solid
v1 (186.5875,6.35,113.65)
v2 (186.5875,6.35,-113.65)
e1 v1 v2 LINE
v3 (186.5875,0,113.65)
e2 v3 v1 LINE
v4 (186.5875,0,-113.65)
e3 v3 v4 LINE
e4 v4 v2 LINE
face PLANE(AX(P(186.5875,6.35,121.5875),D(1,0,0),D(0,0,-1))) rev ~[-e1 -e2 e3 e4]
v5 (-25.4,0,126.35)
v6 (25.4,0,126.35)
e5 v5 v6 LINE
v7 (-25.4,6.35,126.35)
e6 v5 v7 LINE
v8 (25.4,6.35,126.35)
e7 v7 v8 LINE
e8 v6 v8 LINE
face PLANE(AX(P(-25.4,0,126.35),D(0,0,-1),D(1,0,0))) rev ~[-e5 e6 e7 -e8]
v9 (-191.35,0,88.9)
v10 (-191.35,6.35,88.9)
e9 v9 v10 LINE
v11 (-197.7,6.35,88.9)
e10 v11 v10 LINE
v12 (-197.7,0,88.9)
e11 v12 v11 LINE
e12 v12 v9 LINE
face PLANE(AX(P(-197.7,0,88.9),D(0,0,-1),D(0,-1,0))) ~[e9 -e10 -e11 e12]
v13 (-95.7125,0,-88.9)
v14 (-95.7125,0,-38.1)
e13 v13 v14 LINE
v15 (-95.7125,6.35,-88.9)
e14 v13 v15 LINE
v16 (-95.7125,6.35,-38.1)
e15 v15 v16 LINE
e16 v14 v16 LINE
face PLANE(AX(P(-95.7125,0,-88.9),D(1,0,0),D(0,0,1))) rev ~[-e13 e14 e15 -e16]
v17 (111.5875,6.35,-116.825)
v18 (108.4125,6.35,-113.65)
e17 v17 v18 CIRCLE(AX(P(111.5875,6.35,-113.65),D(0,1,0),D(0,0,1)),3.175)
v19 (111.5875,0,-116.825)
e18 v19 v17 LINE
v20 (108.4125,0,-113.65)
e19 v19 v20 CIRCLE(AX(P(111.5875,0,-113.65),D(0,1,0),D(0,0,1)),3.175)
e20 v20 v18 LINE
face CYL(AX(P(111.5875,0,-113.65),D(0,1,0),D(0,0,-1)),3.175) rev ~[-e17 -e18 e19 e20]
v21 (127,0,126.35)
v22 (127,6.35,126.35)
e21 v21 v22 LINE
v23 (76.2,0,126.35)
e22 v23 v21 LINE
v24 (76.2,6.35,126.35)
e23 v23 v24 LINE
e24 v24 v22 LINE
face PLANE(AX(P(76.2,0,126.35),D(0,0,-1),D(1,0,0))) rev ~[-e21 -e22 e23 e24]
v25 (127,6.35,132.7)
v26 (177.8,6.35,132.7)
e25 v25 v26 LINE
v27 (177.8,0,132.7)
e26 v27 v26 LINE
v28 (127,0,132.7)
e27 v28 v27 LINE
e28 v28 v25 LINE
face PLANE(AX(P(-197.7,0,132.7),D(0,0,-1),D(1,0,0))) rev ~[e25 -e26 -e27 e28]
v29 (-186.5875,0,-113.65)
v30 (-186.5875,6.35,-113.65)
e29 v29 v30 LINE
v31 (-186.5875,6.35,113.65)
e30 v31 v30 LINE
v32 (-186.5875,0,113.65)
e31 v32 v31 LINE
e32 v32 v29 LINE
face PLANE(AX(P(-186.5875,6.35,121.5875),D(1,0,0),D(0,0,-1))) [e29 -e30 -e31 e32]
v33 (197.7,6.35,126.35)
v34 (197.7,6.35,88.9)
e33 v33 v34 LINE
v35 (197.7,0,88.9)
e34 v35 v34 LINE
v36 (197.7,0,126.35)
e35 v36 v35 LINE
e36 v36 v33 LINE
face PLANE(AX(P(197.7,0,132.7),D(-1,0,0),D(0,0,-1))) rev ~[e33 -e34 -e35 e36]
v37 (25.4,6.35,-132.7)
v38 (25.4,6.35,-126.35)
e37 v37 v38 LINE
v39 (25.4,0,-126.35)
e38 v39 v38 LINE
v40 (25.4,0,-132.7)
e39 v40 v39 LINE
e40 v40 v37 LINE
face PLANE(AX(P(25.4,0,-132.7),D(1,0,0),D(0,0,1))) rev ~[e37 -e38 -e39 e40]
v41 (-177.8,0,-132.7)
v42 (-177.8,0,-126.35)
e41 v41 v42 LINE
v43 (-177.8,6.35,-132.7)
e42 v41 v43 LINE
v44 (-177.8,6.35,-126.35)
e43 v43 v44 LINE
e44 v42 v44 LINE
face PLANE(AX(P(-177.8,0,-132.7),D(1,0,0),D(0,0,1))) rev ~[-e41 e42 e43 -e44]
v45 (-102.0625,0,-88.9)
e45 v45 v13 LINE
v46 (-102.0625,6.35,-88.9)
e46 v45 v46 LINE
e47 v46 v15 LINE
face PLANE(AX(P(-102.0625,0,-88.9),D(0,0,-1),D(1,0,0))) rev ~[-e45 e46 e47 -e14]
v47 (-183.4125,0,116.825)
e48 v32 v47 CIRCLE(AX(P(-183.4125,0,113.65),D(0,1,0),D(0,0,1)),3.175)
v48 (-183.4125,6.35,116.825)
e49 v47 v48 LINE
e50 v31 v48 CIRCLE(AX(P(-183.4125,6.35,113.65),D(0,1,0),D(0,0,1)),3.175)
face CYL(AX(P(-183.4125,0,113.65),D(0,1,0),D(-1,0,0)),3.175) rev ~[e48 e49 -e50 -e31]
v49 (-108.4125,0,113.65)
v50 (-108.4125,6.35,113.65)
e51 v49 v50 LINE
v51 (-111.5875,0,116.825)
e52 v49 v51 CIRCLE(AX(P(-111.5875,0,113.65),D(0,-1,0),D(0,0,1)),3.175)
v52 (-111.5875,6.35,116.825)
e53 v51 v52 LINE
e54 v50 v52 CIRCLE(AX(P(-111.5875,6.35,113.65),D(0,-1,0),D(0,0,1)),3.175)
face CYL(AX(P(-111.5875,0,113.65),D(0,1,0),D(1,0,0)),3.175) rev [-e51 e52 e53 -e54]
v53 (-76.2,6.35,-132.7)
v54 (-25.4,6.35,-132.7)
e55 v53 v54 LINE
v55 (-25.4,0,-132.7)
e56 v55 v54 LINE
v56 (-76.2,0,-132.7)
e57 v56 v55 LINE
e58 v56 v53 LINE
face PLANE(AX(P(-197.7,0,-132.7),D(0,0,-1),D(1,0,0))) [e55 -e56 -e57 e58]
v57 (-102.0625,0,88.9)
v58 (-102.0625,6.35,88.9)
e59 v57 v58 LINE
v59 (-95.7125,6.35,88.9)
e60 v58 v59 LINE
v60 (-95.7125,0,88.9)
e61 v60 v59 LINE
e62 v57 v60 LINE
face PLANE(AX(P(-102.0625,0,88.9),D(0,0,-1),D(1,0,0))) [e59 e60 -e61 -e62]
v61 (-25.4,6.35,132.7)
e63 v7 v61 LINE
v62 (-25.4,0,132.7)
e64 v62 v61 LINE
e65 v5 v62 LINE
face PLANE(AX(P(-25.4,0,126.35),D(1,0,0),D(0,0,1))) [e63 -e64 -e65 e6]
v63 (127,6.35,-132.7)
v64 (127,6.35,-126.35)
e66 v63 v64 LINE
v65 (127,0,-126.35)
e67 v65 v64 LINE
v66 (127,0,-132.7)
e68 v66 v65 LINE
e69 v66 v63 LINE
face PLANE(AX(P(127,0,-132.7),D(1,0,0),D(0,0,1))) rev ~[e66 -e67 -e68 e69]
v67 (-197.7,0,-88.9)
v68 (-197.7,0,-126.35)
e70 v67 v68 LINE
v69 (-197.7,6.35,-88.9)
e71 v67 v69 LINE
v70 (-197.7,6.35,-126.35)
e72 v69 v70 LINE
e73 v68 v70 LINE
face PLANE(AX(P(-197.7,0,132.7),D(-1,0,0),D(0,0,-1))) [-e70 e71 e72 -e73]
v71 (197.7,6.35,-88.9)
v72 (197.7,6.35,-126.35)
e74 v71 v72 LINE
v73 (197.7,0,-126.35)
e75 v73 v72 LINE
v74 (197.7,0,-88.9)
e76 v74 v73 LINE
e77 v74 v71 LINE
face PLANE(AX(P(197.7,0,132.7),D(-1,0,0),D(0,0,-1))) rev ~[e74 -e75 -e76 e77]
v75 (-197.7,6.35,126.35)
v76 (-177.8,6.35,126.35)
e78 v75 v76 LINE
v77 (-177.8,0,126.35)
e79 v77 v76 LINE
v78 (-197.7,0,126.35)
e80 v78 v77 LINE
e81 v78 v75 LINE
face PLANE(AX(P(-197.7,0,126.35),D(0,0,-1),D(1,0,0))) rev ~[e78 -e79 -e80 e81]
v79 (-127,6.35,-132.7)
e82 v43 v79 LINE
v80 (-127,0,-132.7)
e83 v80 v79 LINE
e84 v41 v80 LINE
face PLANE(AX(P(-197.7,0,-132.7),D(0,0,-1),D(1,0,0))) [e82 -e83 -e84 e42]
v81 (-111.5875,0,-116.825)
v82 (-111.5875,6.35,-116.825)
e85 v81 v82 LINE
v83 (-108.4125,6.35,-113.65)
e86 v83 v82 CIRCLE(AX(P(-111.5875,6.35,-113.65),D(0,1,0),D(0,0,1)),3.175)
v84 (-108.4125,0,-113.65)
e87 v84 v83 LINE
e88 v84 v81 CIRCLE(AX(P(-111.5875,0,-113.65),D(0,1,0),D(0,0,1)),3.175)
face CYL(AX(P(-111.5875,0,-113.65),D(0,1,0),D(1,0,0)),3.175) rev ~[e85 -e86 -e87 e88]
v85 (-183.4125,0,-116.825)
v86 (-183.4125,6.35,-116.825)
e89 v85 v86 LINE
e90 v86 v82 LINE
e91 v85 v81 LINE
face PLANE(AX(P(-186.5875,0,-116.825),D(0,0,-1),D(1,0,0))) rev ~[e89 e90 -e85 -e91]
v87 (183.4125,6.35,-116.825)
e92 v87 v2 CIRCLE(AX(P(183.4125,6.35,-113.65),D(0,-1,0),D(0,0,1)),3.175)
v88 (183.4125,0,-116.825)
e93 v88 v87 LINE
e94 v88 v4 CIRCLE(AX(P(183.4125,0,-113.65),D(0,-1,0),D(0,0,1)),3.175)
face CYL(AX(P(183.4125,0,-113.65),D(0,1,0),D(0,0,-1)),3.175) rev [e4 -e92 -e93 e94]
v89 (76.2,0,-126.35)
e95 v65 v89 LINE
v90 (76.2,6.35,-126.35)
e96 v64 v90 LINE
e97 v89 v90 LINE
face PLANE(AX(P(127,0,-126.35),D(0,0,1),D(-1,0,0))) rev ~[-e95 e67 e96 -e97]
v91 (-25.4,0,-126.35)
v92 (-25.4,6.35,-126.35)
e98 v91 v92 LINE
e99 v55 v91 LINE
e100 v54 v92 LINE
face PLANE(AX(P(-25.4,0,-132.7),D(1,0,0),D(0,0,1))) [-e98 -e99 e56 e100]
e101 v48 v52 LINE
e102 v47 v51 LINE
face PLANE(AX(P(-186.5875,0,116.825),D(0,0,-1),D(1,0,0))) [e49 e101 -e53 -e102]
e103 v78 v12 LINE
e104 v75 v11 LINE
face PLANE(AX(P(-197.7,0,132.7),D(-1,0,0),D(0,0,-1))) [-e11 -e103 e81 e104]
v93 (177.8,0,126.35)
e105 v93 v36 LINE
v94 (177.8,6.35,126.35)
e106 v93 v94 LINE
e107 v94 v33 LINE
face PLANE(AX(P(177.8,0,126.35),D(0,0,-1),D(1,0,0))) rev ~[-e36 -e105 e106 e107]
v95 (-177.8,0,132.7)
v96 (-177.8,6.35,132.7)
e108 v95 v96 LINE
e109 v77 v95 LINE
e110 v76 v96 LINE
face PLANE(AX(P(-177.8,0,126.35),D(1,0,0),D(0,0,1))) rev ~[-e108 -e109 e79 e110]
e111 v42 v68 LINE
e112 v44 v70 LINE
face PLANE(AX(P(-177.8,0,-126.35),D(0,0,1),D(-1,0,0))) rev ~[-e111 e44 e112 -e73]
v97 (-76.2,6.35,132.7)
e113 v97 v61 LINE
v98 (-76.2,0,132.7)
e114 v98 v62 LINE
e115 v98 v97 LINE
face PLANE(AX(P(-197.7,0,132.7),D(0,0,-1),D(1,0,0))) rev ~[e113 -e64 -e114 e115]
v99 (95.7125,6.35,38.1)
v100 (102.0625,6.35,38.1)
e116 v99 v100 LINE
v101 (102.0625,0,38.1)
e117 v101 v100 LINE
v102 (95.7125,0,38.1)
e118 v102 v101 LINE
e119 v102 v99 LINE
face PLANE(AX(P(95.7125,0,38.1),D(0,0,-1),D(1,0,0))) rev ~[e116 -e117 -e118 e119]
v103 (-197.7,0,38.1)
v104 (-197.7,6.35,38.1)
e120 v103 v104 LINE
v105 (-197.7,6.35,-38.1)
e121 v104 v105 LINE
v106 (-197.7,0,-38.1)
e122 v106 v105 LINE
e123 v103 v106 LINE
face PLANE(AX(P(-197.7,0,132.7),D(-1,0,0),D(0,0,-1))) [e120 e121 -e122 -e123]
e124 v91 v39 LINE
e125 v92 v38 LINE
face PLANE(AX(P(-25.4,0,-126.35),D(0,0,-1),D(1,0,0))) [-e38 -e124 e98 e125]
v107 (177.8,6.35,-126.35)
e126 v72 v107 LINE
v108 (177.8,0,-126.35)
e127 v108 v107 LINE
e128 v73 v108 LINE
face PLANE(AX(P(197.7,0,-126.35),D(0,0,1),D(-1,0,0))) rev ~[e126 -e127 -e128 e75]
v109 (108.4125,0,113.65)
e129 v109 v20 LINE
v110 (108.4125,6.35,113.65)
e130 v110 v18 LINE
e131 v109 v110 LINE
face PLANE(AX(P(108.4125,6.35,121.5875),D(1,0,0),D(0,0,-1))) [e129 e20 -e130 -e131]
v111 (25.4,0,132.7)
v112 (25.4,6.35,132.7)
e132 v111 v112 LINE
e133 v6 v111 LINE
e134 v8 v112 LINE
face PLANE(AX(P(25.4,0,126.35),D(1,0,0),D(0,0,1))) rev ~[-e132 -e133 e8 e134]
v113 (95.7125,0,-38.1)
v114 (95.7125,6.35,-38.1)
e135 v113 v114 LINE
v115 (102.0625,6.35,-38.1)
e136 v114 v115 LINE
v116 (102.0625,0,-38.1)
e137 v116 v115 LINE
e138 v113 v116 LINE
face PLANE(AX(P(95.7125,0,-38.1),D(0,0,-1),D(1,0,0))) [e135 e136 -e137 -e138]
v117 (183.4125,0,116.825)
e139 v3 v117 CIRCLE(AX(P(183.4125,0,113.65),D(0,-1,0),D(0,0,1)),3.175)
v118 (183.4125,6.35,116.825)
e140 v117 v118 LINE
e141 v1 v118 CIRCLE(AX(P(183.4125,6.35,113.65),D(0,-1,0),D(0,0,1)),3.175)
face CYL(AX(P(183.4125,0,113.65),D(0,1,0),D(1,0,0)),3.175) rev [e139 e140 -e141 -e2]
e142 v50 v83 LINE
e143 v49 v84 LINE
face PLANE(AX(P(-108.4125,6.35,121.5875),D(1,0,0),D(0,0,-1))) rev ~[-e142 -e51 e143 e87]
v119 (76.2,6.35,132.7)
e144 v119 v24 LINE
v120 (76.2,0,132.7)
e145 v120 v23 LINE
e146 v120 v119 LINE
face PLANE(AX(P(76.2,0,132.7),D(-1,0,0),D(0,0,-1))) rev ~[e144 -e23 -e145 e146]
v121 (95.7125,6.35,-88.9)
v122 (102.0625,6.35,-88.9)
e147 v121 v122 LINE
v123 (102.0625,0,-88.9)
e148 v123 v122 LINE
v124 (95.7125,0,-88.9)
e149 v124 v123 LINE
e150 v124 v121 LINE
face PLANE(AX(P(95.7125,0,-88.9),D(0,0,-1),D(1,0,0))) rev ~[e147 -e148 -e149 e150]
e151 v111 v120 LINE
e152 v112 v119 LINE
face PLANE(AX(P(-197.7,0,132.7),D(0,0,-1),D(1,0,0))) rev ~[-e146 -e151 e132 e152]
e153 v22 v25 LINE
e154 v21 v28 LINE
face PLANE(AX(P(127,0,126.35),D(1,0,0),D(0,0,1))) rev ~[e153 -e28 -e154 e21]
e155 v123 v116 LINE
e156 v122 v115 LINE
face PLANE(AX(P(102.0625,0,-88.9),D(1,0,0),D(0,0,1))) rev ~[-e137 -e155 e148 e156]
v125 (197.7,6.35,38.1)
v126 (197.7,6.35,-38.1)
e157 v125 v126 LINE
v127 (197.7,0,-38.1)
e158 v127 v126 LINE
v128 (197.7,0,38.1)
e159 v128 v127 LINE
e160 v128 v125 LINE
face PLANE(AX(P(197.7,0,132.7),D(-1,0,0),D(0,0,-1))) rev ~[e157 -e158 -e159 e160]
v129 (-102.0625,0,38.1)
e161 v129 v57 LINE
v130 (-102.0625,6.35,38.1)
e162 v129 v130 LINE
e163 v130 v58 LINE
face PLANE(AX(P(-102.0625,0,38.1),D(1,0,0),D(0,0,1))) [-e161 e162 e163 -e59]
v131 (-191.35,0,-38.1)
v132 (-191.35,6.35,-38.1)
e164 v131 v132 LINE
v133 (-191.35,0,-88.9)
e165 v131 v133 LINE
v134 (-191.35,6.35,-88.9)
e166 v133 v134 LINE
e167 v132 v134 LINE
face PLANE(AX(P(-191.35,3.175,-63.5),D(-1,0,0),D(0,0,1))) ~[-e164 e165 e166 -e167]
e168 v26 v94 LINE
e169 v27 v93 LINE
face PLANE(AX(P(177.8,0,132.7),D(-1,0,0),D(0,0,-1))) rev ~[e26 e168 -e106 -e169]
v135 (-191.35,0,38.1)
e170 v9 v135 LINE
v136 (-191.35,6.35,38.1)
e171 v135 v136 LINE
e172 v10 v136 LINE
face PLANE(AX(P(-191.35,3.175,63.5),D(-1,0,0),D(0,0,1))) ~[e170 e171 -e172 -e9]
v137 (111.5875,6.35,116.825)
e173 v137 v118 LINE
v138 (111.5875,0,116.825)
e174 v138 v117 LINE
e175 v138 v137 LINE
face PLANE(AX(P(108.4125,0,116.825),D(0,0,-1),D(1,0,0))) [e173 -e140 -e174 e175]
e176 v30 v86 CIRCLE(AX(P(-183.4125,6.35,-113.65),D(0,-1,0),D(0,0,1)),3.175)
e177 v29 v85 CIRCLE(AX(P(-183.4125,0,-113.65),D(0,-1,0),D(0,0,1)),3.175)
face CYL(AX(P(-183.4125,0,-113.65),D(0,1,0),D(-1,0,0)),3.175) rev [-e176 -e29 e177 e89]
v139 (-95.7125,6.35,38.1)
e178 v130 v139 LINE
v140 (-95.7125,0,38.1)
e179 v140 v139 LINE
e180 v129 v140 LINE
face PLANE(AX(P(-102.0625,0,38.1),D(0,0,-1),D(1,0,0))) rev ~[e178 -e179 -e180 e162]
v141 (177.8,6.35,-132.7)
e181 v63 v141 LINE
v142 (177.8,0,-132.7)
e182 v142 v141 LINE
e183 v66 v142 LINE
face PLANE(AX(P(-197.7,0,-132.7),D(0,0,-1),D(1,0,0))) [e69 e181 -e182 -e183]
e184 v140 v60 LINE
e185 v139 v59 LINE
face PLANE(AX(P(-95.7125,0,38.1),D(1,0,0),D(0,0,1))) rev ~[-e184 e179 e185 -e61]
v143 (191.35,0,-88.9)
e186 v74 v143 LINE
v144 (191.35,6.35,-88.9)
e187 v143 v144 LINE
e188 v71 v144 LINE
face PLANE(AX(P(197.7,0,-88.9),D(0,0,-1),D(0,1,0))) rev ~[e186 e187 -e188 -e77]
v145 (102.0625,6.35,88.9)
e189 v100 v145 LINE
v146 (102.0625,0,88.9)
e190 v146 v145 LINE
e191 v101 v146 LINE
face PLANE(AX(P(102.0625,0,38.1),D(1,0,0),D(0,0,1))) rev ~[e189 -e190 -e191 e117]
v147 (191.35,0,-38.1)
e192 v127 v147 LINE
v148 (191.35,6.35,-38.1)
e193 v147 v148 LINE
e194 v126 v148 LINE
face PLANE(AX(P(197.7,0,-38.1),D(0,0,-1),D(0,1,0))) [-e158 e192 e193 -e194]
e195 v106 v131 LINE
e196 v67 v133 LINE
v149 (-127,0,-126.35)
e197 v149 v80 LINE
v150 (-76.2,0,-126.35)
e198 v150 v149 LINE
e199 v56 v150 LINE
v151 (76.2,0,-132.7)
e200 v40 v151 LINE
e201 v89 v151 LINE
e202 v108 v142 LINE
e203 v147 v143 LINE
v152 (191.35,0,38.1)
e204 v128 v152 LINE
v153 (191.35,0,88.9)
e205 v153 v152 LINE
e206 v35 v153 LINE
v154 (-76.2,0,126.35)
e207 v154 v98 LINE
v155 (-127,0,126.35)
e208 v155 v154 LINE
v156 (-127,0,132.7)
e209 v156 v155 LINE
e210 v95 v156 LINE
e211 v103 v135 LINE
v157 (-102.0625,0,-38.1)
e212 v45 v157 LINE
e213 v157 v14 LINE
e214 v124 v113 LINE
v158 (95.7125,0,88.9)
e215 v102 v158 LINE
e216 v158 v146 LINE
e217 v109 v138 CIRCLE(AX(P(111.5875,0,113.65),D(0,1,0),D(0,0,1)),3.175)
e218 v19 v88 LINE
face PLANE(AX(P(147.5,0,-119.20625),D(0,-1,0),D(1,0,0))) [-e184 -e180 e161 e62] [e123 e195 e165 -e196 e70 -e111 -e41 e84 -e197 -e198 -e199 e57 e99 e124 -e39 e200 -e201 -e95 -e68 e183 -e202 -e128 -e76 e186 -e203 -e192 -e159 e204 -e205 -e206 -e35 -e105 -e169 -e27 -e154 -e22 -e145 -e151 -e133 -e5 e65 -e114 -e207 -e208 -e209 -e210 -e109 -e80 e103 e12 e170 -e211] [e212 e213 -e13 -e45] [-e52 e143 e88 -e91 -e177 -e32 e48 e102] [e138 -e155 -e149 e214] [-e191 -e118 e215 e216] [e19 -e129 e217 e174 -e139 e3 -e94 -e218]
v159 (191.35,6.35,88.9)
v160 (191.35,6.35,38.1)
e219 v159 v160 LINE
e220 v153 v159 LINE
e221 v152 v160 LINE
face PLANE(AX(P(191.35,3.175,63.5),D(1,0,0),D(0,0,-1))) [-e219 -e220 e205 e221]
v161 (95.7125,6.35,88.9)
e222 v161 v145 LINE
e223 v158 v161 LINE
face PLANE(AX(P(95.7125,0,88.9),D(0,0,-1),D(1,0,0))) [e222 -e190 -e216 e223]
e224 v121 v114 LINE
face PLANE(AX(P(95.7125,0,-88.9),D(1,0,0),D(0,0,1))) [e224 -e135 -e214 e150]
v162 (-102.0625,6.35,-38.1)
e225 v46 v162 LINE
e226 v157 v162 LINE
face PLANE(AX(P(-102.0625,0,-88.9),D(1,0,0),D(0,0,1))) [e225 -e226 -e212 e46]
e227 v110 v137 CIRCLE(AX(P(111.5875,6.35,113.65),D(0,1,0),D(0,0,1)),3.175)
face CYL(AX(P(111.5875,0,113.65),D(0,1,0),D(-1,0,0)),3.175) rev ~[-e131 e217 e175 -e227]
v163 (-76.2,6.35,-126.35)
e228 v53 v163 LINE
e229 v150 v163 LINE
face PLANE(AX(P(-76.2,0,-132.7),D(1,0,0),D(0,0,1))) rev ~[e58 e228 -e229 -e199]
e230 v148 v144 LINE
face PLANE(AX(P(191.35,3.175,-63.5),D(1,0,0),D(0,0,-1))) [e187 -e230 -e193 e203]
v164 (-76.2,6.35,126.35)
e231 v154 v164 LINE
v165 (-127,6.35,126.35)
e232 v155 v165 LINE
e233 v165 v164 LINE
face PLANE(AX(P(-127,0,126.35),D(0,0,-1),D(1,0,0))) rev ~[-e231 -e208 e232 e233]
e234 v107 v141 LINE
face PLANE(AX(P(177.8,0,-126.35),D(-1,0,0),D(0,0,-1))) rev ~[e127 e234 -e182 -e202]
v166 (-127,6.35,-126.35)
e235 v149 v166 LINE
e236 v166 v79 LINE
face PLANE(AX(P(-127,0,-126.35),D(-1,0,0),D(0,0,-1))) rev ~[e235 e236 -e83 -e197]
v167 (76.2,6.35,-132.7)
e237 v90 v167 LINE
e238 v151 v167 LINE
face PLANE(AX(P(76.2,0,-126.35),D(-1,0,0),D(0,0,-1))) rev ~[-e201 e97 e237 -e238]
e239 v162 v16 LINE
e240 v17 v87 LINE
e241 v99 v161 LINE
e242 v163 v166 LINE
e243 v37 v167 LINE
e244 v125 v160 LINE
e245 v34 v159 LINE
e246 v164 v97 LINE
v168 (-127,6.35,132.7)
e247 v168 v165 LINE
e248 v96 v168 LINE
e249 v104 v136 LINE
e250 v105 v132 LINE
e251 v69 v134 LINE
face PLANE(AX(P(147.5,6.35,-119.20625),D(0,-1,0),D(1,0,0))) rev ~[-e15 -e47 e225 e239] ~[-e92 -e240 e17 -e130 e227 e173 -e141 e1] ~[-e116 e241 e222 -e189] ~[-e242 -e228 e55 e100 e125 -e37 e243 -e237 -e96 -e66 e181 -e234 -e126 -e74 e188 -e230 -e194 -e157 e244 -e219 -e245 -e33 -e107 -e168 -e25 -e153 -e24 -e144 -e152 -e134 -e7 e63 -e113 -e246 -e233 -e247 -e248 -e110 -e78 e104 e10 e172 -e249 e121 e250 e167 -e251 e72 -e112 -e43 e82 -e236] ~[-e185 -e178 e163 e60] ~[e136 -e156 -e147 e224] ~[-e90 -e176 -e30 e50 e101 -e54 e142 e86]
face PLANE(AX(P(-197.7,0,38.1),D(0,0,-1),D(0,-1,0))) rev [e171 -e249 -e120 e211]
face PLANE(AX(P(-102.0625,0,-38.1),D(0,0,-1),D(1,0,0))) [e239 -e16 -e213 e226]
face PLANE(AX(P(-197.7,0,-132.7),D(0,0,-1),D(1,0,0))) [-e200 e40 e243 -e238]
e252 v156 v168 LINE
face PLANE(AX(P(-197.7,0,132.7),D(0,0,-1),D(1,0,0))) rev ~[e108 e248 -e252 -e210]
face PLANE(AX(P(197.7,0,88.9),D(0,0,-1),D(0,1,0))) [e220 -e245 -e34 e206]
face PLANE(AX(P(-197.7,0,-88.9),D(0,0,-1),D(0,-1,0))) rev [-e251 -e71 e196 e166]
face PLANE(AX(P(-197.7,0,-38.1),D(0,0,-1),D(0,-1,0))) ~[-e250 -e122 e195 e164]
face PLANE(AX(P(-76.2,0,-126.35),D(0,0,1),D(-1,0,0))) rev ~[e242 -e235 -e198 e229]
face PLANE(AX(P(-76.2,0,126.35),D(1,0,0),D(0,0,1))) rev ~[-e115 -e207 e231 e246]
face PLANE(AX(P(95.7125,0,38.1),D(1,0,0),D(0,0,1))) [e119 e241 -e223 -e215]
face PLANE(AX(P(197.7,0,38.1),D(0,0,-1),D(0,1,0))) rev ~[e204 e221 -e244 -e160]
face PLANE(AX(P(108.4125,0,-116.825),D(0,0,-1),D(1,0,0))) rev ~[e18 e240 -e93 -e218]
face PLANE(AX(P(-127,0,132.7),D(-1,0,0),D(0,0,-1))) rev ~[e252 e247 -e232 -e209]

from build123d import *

# Parameters (mm, degrees)
SKETCH5_W           = 395.4
SKETCH5_H           = 265.4
BOSS_EXTRUDE3_DEPTH = 6.35
SKETCH6_W           = 78.175
SKETCH6_H           = 243.175
SKETCH6_W_2         = 75
SKETCH6_H_2         = 240
CUT_EXTRUDE1_DEPTH  = 6.35
SKETCH10_W          = 6.35
SKETCH10_H          = 50.8
SKETCH10_W_2        = 50.8
SKETCH10_H_2        = 6.35
CUT_EXTRUDE2_DEPTH  = 6.35
SKETCH11_W          = 50.8
SKETCH11_H          = 6.35
CUT_EXTRUDE3_DEPTH  = 6.35
SKETCH12_W          = 78.175
SKETCH12_H          = 4.7625
BOSS_EXTRUDE4_DEPTH = 6.35
FILLET1_R           = 3.175


with BuildPart() as part:
    # Sketch5 → Boss-Extrude3 (new body)
    with BuildSketch(Plane(origin=(0, 0, 0), x_dir=(1, 0, 0), z_dir=(0, 1, 0))):
        Rectangle(SKETCH5_W, SKETCH5_H)
    extrude(amount=BOSS_EXTRUDE3_DEPTH)

    # Sketch6 → Cut-Extrude1 (cut)
    # profile 1 of 4: a face of its own
    with BuildSketch(Plane(origin=(0, 6.35, 0), x_dir=(1, 0, 0), z_dir=(0, 1, 0))):
        with Locations((147.5, 0)):
            Rectangle(SKETCH6_W, SKETCH6_H)
        with Locations((147.5, 0)):
            Rectangle(SKETCH6_W_2, SKETCH6_H_2, mode=Mode.SUBTRACT)
    # profile 2 of 4: a face of its own
    with BuildSketch(Plane(origin=(0, 6.35, 0), x_dir=(1, 0, 0), z_dir=(0, 1, 0))):
        with Locations((147.5, 0)):
            Rectangle(SKETCH6_W_2, SKETCH6_H_2)
    # profile 3 of 4: a face of its own
    with BuildSketch(Plane(origin=(0, 6.35, 0), x_dir=(1, 0, 0), z_dir=(0, 1, 0))):
        with Locations((-147.5, 0)):
            Rectangle(SKETCH6_W, SKETCH6_H)
        with Locations((-147.5, 0)):
            Rectangle(SKETCH6_W_2, SKETCH6_H_2, mode=Mode.SUBTRACT)
    # profile 4 of 4: a face of its own
    with BuildSketch(Plane(origin=(0, 6.35, 0), x_dir=(1, 0, 0), z_dir=(0, 1, 0))):
        with Locations((-147.5, 0)):
            Rectangle(SKETCH6_W_2, SKETCH6_H_2)
    extrude(amount=-CUT_EXTRUDE1_DEPTH, mode=Mode.SUBTRACT)

    # Sketch10 → Cut-Extrude2 (cut)
    with BuildSketch(Plane.XZ):
        with Locations((98.8875, -63.5)):
            Rectangle(SKETCH10_W, SKETCH10_H)
        with Locations((98.8875, 63.5)):
            Rectangle(SKETCH10_W, SKETCH10_H)
        with Locations((-98.8875, 63.5)):
            Rectangle(SKETCH10_W, SKETCH10_H)
        with Locations((-98.8875, -63.5)):
            Rectangle(SKETCH10_W, SKETCH10_H)
        Polygon((197.7, 132.7), (177.8, 132.7), (177.8, 126.35), (191.35, 126.35), (197.7, 126.35), align=None)
        Polygon((127, 132.7), (76.2, 132.7), (76.2, 126.35), (95.7125, 126.35), (102.0625, 126.35), (108.4125, 126.35), (127, 126.35), align=None)
        with Locations((0, 129.525)):
            Rectangle(SKETCH10_W_2, SKETCH10_H_2)
        Polygon((-127, 132.7), (-127, 126.35), (-108.4125, 126.35), (-102.0625, 126.35), (-95.7125, 126.35), (-76.2, 126.35), (-76.2, 132.7), align=None)
        Polygon((-197.7, 126.35), (-191.35, 126.35), (-177.8, 126.35), (-177.8, 132.7), (-197.7, 132.7), align=None)
        Polygon((-177.8, -126.35), (-191.35, -126.35), (-197.7, -126.35), (-197.7, -132.7), (-177.8, -132.7), align=None)
        Polygon((-108.4125, -126.35), (-127, -126.35), (-127, -132.7), (-76.2, -132.7), (-76.2, -126.35), (-95.7125, -126.35), (-102.0625, -126.35), align=None)
        with Locations((0, -129.525)):
            Rectangle(SKETCH10_W_2, SKETCH10_H_2)
        Polygon((76.2, -126.35), (76.2, -132.7), (127, -132.7), (127, -126.35), (108.4125, -126.35), (102.0625, -126.35), (95.7125, -126.35), align=None)
        Polygon((177.8, -126.35), (177.8, -132.7), (197.7, -132.7), (197.7, -126.35), (191.35, -126.35), align=None)
    extrude(amount=-CUT_EXTRUDE2_DEPTH, mode=Mode.SUBTRACT)

    # Sketch11 → Cut-Extrude3 (cut)
    with BuildSketch(Plane(origin=(197.7, 0, 0), x_dir=(0, 0, -1), z_dir=(1, 0, 0))):
        with Locations((-63.5, 3.175)):
            Rectangle(SKETCH11_W, SKETCH11_H)
        with Locations((63.5, 3.175)):
            Rectangle(SKETCH11_W, SKETCH11_H)
    cut_extrude3 = extrude(amount=-CUT_EXTRUDE3_DEPTH, mode=Mode.SUBTRACT)

    # Mirror1: Cut-Extrude3 across plane
    add(cut_extrude3.mirror(Plane(origin=(0, 0, 0), x_dir=(0, 0, 1), z_dir=(1, 0, 0))), mode=Mode.SUBTRACT)

    # Sketch12 → Boss-Extrude4 (add)
    with BuildSketch(Plane.XZ):
        with Locations((147.5, -119.20625)):
            Rectangle(SKETCH12_W, SKETCH12_H)
        with Locations((147.5, 119.20625)):
            Rectangle(SKETCH12_W, SKETCH12_H)
        with Locations((-147.5, 119.20625)):
            Rectangle(SKETCH12_W, SKETCH12_H)
        with Locations((-147.5, -119.20625)):
            Rectangle(SKETCH12_W, SKETCH12_H)
    extrude(amount=-BOSS_EXTRUDE4_DEPTH)

    # Fillet1
    fillet1_edges = [part.edges().sort_by_distance(p)[0] for p in [
        (108.4125, 3.175, -116.825),
        (186.5875, 3.175, -116.825),
        (186.5875, 3.175, 116.825),
        (108.4125, 3.175, 116.825),
        (-186.5875, 3.175, 116.825),
        (-108.4125, 3.175, 116.825),
        (-108.4125, 3.175, -116.825),
        (-186.5875, 3.175, -116.825),
    ]]
    fillet(fillet1_edges, radius=FILLET1_R)


solid = part.part
